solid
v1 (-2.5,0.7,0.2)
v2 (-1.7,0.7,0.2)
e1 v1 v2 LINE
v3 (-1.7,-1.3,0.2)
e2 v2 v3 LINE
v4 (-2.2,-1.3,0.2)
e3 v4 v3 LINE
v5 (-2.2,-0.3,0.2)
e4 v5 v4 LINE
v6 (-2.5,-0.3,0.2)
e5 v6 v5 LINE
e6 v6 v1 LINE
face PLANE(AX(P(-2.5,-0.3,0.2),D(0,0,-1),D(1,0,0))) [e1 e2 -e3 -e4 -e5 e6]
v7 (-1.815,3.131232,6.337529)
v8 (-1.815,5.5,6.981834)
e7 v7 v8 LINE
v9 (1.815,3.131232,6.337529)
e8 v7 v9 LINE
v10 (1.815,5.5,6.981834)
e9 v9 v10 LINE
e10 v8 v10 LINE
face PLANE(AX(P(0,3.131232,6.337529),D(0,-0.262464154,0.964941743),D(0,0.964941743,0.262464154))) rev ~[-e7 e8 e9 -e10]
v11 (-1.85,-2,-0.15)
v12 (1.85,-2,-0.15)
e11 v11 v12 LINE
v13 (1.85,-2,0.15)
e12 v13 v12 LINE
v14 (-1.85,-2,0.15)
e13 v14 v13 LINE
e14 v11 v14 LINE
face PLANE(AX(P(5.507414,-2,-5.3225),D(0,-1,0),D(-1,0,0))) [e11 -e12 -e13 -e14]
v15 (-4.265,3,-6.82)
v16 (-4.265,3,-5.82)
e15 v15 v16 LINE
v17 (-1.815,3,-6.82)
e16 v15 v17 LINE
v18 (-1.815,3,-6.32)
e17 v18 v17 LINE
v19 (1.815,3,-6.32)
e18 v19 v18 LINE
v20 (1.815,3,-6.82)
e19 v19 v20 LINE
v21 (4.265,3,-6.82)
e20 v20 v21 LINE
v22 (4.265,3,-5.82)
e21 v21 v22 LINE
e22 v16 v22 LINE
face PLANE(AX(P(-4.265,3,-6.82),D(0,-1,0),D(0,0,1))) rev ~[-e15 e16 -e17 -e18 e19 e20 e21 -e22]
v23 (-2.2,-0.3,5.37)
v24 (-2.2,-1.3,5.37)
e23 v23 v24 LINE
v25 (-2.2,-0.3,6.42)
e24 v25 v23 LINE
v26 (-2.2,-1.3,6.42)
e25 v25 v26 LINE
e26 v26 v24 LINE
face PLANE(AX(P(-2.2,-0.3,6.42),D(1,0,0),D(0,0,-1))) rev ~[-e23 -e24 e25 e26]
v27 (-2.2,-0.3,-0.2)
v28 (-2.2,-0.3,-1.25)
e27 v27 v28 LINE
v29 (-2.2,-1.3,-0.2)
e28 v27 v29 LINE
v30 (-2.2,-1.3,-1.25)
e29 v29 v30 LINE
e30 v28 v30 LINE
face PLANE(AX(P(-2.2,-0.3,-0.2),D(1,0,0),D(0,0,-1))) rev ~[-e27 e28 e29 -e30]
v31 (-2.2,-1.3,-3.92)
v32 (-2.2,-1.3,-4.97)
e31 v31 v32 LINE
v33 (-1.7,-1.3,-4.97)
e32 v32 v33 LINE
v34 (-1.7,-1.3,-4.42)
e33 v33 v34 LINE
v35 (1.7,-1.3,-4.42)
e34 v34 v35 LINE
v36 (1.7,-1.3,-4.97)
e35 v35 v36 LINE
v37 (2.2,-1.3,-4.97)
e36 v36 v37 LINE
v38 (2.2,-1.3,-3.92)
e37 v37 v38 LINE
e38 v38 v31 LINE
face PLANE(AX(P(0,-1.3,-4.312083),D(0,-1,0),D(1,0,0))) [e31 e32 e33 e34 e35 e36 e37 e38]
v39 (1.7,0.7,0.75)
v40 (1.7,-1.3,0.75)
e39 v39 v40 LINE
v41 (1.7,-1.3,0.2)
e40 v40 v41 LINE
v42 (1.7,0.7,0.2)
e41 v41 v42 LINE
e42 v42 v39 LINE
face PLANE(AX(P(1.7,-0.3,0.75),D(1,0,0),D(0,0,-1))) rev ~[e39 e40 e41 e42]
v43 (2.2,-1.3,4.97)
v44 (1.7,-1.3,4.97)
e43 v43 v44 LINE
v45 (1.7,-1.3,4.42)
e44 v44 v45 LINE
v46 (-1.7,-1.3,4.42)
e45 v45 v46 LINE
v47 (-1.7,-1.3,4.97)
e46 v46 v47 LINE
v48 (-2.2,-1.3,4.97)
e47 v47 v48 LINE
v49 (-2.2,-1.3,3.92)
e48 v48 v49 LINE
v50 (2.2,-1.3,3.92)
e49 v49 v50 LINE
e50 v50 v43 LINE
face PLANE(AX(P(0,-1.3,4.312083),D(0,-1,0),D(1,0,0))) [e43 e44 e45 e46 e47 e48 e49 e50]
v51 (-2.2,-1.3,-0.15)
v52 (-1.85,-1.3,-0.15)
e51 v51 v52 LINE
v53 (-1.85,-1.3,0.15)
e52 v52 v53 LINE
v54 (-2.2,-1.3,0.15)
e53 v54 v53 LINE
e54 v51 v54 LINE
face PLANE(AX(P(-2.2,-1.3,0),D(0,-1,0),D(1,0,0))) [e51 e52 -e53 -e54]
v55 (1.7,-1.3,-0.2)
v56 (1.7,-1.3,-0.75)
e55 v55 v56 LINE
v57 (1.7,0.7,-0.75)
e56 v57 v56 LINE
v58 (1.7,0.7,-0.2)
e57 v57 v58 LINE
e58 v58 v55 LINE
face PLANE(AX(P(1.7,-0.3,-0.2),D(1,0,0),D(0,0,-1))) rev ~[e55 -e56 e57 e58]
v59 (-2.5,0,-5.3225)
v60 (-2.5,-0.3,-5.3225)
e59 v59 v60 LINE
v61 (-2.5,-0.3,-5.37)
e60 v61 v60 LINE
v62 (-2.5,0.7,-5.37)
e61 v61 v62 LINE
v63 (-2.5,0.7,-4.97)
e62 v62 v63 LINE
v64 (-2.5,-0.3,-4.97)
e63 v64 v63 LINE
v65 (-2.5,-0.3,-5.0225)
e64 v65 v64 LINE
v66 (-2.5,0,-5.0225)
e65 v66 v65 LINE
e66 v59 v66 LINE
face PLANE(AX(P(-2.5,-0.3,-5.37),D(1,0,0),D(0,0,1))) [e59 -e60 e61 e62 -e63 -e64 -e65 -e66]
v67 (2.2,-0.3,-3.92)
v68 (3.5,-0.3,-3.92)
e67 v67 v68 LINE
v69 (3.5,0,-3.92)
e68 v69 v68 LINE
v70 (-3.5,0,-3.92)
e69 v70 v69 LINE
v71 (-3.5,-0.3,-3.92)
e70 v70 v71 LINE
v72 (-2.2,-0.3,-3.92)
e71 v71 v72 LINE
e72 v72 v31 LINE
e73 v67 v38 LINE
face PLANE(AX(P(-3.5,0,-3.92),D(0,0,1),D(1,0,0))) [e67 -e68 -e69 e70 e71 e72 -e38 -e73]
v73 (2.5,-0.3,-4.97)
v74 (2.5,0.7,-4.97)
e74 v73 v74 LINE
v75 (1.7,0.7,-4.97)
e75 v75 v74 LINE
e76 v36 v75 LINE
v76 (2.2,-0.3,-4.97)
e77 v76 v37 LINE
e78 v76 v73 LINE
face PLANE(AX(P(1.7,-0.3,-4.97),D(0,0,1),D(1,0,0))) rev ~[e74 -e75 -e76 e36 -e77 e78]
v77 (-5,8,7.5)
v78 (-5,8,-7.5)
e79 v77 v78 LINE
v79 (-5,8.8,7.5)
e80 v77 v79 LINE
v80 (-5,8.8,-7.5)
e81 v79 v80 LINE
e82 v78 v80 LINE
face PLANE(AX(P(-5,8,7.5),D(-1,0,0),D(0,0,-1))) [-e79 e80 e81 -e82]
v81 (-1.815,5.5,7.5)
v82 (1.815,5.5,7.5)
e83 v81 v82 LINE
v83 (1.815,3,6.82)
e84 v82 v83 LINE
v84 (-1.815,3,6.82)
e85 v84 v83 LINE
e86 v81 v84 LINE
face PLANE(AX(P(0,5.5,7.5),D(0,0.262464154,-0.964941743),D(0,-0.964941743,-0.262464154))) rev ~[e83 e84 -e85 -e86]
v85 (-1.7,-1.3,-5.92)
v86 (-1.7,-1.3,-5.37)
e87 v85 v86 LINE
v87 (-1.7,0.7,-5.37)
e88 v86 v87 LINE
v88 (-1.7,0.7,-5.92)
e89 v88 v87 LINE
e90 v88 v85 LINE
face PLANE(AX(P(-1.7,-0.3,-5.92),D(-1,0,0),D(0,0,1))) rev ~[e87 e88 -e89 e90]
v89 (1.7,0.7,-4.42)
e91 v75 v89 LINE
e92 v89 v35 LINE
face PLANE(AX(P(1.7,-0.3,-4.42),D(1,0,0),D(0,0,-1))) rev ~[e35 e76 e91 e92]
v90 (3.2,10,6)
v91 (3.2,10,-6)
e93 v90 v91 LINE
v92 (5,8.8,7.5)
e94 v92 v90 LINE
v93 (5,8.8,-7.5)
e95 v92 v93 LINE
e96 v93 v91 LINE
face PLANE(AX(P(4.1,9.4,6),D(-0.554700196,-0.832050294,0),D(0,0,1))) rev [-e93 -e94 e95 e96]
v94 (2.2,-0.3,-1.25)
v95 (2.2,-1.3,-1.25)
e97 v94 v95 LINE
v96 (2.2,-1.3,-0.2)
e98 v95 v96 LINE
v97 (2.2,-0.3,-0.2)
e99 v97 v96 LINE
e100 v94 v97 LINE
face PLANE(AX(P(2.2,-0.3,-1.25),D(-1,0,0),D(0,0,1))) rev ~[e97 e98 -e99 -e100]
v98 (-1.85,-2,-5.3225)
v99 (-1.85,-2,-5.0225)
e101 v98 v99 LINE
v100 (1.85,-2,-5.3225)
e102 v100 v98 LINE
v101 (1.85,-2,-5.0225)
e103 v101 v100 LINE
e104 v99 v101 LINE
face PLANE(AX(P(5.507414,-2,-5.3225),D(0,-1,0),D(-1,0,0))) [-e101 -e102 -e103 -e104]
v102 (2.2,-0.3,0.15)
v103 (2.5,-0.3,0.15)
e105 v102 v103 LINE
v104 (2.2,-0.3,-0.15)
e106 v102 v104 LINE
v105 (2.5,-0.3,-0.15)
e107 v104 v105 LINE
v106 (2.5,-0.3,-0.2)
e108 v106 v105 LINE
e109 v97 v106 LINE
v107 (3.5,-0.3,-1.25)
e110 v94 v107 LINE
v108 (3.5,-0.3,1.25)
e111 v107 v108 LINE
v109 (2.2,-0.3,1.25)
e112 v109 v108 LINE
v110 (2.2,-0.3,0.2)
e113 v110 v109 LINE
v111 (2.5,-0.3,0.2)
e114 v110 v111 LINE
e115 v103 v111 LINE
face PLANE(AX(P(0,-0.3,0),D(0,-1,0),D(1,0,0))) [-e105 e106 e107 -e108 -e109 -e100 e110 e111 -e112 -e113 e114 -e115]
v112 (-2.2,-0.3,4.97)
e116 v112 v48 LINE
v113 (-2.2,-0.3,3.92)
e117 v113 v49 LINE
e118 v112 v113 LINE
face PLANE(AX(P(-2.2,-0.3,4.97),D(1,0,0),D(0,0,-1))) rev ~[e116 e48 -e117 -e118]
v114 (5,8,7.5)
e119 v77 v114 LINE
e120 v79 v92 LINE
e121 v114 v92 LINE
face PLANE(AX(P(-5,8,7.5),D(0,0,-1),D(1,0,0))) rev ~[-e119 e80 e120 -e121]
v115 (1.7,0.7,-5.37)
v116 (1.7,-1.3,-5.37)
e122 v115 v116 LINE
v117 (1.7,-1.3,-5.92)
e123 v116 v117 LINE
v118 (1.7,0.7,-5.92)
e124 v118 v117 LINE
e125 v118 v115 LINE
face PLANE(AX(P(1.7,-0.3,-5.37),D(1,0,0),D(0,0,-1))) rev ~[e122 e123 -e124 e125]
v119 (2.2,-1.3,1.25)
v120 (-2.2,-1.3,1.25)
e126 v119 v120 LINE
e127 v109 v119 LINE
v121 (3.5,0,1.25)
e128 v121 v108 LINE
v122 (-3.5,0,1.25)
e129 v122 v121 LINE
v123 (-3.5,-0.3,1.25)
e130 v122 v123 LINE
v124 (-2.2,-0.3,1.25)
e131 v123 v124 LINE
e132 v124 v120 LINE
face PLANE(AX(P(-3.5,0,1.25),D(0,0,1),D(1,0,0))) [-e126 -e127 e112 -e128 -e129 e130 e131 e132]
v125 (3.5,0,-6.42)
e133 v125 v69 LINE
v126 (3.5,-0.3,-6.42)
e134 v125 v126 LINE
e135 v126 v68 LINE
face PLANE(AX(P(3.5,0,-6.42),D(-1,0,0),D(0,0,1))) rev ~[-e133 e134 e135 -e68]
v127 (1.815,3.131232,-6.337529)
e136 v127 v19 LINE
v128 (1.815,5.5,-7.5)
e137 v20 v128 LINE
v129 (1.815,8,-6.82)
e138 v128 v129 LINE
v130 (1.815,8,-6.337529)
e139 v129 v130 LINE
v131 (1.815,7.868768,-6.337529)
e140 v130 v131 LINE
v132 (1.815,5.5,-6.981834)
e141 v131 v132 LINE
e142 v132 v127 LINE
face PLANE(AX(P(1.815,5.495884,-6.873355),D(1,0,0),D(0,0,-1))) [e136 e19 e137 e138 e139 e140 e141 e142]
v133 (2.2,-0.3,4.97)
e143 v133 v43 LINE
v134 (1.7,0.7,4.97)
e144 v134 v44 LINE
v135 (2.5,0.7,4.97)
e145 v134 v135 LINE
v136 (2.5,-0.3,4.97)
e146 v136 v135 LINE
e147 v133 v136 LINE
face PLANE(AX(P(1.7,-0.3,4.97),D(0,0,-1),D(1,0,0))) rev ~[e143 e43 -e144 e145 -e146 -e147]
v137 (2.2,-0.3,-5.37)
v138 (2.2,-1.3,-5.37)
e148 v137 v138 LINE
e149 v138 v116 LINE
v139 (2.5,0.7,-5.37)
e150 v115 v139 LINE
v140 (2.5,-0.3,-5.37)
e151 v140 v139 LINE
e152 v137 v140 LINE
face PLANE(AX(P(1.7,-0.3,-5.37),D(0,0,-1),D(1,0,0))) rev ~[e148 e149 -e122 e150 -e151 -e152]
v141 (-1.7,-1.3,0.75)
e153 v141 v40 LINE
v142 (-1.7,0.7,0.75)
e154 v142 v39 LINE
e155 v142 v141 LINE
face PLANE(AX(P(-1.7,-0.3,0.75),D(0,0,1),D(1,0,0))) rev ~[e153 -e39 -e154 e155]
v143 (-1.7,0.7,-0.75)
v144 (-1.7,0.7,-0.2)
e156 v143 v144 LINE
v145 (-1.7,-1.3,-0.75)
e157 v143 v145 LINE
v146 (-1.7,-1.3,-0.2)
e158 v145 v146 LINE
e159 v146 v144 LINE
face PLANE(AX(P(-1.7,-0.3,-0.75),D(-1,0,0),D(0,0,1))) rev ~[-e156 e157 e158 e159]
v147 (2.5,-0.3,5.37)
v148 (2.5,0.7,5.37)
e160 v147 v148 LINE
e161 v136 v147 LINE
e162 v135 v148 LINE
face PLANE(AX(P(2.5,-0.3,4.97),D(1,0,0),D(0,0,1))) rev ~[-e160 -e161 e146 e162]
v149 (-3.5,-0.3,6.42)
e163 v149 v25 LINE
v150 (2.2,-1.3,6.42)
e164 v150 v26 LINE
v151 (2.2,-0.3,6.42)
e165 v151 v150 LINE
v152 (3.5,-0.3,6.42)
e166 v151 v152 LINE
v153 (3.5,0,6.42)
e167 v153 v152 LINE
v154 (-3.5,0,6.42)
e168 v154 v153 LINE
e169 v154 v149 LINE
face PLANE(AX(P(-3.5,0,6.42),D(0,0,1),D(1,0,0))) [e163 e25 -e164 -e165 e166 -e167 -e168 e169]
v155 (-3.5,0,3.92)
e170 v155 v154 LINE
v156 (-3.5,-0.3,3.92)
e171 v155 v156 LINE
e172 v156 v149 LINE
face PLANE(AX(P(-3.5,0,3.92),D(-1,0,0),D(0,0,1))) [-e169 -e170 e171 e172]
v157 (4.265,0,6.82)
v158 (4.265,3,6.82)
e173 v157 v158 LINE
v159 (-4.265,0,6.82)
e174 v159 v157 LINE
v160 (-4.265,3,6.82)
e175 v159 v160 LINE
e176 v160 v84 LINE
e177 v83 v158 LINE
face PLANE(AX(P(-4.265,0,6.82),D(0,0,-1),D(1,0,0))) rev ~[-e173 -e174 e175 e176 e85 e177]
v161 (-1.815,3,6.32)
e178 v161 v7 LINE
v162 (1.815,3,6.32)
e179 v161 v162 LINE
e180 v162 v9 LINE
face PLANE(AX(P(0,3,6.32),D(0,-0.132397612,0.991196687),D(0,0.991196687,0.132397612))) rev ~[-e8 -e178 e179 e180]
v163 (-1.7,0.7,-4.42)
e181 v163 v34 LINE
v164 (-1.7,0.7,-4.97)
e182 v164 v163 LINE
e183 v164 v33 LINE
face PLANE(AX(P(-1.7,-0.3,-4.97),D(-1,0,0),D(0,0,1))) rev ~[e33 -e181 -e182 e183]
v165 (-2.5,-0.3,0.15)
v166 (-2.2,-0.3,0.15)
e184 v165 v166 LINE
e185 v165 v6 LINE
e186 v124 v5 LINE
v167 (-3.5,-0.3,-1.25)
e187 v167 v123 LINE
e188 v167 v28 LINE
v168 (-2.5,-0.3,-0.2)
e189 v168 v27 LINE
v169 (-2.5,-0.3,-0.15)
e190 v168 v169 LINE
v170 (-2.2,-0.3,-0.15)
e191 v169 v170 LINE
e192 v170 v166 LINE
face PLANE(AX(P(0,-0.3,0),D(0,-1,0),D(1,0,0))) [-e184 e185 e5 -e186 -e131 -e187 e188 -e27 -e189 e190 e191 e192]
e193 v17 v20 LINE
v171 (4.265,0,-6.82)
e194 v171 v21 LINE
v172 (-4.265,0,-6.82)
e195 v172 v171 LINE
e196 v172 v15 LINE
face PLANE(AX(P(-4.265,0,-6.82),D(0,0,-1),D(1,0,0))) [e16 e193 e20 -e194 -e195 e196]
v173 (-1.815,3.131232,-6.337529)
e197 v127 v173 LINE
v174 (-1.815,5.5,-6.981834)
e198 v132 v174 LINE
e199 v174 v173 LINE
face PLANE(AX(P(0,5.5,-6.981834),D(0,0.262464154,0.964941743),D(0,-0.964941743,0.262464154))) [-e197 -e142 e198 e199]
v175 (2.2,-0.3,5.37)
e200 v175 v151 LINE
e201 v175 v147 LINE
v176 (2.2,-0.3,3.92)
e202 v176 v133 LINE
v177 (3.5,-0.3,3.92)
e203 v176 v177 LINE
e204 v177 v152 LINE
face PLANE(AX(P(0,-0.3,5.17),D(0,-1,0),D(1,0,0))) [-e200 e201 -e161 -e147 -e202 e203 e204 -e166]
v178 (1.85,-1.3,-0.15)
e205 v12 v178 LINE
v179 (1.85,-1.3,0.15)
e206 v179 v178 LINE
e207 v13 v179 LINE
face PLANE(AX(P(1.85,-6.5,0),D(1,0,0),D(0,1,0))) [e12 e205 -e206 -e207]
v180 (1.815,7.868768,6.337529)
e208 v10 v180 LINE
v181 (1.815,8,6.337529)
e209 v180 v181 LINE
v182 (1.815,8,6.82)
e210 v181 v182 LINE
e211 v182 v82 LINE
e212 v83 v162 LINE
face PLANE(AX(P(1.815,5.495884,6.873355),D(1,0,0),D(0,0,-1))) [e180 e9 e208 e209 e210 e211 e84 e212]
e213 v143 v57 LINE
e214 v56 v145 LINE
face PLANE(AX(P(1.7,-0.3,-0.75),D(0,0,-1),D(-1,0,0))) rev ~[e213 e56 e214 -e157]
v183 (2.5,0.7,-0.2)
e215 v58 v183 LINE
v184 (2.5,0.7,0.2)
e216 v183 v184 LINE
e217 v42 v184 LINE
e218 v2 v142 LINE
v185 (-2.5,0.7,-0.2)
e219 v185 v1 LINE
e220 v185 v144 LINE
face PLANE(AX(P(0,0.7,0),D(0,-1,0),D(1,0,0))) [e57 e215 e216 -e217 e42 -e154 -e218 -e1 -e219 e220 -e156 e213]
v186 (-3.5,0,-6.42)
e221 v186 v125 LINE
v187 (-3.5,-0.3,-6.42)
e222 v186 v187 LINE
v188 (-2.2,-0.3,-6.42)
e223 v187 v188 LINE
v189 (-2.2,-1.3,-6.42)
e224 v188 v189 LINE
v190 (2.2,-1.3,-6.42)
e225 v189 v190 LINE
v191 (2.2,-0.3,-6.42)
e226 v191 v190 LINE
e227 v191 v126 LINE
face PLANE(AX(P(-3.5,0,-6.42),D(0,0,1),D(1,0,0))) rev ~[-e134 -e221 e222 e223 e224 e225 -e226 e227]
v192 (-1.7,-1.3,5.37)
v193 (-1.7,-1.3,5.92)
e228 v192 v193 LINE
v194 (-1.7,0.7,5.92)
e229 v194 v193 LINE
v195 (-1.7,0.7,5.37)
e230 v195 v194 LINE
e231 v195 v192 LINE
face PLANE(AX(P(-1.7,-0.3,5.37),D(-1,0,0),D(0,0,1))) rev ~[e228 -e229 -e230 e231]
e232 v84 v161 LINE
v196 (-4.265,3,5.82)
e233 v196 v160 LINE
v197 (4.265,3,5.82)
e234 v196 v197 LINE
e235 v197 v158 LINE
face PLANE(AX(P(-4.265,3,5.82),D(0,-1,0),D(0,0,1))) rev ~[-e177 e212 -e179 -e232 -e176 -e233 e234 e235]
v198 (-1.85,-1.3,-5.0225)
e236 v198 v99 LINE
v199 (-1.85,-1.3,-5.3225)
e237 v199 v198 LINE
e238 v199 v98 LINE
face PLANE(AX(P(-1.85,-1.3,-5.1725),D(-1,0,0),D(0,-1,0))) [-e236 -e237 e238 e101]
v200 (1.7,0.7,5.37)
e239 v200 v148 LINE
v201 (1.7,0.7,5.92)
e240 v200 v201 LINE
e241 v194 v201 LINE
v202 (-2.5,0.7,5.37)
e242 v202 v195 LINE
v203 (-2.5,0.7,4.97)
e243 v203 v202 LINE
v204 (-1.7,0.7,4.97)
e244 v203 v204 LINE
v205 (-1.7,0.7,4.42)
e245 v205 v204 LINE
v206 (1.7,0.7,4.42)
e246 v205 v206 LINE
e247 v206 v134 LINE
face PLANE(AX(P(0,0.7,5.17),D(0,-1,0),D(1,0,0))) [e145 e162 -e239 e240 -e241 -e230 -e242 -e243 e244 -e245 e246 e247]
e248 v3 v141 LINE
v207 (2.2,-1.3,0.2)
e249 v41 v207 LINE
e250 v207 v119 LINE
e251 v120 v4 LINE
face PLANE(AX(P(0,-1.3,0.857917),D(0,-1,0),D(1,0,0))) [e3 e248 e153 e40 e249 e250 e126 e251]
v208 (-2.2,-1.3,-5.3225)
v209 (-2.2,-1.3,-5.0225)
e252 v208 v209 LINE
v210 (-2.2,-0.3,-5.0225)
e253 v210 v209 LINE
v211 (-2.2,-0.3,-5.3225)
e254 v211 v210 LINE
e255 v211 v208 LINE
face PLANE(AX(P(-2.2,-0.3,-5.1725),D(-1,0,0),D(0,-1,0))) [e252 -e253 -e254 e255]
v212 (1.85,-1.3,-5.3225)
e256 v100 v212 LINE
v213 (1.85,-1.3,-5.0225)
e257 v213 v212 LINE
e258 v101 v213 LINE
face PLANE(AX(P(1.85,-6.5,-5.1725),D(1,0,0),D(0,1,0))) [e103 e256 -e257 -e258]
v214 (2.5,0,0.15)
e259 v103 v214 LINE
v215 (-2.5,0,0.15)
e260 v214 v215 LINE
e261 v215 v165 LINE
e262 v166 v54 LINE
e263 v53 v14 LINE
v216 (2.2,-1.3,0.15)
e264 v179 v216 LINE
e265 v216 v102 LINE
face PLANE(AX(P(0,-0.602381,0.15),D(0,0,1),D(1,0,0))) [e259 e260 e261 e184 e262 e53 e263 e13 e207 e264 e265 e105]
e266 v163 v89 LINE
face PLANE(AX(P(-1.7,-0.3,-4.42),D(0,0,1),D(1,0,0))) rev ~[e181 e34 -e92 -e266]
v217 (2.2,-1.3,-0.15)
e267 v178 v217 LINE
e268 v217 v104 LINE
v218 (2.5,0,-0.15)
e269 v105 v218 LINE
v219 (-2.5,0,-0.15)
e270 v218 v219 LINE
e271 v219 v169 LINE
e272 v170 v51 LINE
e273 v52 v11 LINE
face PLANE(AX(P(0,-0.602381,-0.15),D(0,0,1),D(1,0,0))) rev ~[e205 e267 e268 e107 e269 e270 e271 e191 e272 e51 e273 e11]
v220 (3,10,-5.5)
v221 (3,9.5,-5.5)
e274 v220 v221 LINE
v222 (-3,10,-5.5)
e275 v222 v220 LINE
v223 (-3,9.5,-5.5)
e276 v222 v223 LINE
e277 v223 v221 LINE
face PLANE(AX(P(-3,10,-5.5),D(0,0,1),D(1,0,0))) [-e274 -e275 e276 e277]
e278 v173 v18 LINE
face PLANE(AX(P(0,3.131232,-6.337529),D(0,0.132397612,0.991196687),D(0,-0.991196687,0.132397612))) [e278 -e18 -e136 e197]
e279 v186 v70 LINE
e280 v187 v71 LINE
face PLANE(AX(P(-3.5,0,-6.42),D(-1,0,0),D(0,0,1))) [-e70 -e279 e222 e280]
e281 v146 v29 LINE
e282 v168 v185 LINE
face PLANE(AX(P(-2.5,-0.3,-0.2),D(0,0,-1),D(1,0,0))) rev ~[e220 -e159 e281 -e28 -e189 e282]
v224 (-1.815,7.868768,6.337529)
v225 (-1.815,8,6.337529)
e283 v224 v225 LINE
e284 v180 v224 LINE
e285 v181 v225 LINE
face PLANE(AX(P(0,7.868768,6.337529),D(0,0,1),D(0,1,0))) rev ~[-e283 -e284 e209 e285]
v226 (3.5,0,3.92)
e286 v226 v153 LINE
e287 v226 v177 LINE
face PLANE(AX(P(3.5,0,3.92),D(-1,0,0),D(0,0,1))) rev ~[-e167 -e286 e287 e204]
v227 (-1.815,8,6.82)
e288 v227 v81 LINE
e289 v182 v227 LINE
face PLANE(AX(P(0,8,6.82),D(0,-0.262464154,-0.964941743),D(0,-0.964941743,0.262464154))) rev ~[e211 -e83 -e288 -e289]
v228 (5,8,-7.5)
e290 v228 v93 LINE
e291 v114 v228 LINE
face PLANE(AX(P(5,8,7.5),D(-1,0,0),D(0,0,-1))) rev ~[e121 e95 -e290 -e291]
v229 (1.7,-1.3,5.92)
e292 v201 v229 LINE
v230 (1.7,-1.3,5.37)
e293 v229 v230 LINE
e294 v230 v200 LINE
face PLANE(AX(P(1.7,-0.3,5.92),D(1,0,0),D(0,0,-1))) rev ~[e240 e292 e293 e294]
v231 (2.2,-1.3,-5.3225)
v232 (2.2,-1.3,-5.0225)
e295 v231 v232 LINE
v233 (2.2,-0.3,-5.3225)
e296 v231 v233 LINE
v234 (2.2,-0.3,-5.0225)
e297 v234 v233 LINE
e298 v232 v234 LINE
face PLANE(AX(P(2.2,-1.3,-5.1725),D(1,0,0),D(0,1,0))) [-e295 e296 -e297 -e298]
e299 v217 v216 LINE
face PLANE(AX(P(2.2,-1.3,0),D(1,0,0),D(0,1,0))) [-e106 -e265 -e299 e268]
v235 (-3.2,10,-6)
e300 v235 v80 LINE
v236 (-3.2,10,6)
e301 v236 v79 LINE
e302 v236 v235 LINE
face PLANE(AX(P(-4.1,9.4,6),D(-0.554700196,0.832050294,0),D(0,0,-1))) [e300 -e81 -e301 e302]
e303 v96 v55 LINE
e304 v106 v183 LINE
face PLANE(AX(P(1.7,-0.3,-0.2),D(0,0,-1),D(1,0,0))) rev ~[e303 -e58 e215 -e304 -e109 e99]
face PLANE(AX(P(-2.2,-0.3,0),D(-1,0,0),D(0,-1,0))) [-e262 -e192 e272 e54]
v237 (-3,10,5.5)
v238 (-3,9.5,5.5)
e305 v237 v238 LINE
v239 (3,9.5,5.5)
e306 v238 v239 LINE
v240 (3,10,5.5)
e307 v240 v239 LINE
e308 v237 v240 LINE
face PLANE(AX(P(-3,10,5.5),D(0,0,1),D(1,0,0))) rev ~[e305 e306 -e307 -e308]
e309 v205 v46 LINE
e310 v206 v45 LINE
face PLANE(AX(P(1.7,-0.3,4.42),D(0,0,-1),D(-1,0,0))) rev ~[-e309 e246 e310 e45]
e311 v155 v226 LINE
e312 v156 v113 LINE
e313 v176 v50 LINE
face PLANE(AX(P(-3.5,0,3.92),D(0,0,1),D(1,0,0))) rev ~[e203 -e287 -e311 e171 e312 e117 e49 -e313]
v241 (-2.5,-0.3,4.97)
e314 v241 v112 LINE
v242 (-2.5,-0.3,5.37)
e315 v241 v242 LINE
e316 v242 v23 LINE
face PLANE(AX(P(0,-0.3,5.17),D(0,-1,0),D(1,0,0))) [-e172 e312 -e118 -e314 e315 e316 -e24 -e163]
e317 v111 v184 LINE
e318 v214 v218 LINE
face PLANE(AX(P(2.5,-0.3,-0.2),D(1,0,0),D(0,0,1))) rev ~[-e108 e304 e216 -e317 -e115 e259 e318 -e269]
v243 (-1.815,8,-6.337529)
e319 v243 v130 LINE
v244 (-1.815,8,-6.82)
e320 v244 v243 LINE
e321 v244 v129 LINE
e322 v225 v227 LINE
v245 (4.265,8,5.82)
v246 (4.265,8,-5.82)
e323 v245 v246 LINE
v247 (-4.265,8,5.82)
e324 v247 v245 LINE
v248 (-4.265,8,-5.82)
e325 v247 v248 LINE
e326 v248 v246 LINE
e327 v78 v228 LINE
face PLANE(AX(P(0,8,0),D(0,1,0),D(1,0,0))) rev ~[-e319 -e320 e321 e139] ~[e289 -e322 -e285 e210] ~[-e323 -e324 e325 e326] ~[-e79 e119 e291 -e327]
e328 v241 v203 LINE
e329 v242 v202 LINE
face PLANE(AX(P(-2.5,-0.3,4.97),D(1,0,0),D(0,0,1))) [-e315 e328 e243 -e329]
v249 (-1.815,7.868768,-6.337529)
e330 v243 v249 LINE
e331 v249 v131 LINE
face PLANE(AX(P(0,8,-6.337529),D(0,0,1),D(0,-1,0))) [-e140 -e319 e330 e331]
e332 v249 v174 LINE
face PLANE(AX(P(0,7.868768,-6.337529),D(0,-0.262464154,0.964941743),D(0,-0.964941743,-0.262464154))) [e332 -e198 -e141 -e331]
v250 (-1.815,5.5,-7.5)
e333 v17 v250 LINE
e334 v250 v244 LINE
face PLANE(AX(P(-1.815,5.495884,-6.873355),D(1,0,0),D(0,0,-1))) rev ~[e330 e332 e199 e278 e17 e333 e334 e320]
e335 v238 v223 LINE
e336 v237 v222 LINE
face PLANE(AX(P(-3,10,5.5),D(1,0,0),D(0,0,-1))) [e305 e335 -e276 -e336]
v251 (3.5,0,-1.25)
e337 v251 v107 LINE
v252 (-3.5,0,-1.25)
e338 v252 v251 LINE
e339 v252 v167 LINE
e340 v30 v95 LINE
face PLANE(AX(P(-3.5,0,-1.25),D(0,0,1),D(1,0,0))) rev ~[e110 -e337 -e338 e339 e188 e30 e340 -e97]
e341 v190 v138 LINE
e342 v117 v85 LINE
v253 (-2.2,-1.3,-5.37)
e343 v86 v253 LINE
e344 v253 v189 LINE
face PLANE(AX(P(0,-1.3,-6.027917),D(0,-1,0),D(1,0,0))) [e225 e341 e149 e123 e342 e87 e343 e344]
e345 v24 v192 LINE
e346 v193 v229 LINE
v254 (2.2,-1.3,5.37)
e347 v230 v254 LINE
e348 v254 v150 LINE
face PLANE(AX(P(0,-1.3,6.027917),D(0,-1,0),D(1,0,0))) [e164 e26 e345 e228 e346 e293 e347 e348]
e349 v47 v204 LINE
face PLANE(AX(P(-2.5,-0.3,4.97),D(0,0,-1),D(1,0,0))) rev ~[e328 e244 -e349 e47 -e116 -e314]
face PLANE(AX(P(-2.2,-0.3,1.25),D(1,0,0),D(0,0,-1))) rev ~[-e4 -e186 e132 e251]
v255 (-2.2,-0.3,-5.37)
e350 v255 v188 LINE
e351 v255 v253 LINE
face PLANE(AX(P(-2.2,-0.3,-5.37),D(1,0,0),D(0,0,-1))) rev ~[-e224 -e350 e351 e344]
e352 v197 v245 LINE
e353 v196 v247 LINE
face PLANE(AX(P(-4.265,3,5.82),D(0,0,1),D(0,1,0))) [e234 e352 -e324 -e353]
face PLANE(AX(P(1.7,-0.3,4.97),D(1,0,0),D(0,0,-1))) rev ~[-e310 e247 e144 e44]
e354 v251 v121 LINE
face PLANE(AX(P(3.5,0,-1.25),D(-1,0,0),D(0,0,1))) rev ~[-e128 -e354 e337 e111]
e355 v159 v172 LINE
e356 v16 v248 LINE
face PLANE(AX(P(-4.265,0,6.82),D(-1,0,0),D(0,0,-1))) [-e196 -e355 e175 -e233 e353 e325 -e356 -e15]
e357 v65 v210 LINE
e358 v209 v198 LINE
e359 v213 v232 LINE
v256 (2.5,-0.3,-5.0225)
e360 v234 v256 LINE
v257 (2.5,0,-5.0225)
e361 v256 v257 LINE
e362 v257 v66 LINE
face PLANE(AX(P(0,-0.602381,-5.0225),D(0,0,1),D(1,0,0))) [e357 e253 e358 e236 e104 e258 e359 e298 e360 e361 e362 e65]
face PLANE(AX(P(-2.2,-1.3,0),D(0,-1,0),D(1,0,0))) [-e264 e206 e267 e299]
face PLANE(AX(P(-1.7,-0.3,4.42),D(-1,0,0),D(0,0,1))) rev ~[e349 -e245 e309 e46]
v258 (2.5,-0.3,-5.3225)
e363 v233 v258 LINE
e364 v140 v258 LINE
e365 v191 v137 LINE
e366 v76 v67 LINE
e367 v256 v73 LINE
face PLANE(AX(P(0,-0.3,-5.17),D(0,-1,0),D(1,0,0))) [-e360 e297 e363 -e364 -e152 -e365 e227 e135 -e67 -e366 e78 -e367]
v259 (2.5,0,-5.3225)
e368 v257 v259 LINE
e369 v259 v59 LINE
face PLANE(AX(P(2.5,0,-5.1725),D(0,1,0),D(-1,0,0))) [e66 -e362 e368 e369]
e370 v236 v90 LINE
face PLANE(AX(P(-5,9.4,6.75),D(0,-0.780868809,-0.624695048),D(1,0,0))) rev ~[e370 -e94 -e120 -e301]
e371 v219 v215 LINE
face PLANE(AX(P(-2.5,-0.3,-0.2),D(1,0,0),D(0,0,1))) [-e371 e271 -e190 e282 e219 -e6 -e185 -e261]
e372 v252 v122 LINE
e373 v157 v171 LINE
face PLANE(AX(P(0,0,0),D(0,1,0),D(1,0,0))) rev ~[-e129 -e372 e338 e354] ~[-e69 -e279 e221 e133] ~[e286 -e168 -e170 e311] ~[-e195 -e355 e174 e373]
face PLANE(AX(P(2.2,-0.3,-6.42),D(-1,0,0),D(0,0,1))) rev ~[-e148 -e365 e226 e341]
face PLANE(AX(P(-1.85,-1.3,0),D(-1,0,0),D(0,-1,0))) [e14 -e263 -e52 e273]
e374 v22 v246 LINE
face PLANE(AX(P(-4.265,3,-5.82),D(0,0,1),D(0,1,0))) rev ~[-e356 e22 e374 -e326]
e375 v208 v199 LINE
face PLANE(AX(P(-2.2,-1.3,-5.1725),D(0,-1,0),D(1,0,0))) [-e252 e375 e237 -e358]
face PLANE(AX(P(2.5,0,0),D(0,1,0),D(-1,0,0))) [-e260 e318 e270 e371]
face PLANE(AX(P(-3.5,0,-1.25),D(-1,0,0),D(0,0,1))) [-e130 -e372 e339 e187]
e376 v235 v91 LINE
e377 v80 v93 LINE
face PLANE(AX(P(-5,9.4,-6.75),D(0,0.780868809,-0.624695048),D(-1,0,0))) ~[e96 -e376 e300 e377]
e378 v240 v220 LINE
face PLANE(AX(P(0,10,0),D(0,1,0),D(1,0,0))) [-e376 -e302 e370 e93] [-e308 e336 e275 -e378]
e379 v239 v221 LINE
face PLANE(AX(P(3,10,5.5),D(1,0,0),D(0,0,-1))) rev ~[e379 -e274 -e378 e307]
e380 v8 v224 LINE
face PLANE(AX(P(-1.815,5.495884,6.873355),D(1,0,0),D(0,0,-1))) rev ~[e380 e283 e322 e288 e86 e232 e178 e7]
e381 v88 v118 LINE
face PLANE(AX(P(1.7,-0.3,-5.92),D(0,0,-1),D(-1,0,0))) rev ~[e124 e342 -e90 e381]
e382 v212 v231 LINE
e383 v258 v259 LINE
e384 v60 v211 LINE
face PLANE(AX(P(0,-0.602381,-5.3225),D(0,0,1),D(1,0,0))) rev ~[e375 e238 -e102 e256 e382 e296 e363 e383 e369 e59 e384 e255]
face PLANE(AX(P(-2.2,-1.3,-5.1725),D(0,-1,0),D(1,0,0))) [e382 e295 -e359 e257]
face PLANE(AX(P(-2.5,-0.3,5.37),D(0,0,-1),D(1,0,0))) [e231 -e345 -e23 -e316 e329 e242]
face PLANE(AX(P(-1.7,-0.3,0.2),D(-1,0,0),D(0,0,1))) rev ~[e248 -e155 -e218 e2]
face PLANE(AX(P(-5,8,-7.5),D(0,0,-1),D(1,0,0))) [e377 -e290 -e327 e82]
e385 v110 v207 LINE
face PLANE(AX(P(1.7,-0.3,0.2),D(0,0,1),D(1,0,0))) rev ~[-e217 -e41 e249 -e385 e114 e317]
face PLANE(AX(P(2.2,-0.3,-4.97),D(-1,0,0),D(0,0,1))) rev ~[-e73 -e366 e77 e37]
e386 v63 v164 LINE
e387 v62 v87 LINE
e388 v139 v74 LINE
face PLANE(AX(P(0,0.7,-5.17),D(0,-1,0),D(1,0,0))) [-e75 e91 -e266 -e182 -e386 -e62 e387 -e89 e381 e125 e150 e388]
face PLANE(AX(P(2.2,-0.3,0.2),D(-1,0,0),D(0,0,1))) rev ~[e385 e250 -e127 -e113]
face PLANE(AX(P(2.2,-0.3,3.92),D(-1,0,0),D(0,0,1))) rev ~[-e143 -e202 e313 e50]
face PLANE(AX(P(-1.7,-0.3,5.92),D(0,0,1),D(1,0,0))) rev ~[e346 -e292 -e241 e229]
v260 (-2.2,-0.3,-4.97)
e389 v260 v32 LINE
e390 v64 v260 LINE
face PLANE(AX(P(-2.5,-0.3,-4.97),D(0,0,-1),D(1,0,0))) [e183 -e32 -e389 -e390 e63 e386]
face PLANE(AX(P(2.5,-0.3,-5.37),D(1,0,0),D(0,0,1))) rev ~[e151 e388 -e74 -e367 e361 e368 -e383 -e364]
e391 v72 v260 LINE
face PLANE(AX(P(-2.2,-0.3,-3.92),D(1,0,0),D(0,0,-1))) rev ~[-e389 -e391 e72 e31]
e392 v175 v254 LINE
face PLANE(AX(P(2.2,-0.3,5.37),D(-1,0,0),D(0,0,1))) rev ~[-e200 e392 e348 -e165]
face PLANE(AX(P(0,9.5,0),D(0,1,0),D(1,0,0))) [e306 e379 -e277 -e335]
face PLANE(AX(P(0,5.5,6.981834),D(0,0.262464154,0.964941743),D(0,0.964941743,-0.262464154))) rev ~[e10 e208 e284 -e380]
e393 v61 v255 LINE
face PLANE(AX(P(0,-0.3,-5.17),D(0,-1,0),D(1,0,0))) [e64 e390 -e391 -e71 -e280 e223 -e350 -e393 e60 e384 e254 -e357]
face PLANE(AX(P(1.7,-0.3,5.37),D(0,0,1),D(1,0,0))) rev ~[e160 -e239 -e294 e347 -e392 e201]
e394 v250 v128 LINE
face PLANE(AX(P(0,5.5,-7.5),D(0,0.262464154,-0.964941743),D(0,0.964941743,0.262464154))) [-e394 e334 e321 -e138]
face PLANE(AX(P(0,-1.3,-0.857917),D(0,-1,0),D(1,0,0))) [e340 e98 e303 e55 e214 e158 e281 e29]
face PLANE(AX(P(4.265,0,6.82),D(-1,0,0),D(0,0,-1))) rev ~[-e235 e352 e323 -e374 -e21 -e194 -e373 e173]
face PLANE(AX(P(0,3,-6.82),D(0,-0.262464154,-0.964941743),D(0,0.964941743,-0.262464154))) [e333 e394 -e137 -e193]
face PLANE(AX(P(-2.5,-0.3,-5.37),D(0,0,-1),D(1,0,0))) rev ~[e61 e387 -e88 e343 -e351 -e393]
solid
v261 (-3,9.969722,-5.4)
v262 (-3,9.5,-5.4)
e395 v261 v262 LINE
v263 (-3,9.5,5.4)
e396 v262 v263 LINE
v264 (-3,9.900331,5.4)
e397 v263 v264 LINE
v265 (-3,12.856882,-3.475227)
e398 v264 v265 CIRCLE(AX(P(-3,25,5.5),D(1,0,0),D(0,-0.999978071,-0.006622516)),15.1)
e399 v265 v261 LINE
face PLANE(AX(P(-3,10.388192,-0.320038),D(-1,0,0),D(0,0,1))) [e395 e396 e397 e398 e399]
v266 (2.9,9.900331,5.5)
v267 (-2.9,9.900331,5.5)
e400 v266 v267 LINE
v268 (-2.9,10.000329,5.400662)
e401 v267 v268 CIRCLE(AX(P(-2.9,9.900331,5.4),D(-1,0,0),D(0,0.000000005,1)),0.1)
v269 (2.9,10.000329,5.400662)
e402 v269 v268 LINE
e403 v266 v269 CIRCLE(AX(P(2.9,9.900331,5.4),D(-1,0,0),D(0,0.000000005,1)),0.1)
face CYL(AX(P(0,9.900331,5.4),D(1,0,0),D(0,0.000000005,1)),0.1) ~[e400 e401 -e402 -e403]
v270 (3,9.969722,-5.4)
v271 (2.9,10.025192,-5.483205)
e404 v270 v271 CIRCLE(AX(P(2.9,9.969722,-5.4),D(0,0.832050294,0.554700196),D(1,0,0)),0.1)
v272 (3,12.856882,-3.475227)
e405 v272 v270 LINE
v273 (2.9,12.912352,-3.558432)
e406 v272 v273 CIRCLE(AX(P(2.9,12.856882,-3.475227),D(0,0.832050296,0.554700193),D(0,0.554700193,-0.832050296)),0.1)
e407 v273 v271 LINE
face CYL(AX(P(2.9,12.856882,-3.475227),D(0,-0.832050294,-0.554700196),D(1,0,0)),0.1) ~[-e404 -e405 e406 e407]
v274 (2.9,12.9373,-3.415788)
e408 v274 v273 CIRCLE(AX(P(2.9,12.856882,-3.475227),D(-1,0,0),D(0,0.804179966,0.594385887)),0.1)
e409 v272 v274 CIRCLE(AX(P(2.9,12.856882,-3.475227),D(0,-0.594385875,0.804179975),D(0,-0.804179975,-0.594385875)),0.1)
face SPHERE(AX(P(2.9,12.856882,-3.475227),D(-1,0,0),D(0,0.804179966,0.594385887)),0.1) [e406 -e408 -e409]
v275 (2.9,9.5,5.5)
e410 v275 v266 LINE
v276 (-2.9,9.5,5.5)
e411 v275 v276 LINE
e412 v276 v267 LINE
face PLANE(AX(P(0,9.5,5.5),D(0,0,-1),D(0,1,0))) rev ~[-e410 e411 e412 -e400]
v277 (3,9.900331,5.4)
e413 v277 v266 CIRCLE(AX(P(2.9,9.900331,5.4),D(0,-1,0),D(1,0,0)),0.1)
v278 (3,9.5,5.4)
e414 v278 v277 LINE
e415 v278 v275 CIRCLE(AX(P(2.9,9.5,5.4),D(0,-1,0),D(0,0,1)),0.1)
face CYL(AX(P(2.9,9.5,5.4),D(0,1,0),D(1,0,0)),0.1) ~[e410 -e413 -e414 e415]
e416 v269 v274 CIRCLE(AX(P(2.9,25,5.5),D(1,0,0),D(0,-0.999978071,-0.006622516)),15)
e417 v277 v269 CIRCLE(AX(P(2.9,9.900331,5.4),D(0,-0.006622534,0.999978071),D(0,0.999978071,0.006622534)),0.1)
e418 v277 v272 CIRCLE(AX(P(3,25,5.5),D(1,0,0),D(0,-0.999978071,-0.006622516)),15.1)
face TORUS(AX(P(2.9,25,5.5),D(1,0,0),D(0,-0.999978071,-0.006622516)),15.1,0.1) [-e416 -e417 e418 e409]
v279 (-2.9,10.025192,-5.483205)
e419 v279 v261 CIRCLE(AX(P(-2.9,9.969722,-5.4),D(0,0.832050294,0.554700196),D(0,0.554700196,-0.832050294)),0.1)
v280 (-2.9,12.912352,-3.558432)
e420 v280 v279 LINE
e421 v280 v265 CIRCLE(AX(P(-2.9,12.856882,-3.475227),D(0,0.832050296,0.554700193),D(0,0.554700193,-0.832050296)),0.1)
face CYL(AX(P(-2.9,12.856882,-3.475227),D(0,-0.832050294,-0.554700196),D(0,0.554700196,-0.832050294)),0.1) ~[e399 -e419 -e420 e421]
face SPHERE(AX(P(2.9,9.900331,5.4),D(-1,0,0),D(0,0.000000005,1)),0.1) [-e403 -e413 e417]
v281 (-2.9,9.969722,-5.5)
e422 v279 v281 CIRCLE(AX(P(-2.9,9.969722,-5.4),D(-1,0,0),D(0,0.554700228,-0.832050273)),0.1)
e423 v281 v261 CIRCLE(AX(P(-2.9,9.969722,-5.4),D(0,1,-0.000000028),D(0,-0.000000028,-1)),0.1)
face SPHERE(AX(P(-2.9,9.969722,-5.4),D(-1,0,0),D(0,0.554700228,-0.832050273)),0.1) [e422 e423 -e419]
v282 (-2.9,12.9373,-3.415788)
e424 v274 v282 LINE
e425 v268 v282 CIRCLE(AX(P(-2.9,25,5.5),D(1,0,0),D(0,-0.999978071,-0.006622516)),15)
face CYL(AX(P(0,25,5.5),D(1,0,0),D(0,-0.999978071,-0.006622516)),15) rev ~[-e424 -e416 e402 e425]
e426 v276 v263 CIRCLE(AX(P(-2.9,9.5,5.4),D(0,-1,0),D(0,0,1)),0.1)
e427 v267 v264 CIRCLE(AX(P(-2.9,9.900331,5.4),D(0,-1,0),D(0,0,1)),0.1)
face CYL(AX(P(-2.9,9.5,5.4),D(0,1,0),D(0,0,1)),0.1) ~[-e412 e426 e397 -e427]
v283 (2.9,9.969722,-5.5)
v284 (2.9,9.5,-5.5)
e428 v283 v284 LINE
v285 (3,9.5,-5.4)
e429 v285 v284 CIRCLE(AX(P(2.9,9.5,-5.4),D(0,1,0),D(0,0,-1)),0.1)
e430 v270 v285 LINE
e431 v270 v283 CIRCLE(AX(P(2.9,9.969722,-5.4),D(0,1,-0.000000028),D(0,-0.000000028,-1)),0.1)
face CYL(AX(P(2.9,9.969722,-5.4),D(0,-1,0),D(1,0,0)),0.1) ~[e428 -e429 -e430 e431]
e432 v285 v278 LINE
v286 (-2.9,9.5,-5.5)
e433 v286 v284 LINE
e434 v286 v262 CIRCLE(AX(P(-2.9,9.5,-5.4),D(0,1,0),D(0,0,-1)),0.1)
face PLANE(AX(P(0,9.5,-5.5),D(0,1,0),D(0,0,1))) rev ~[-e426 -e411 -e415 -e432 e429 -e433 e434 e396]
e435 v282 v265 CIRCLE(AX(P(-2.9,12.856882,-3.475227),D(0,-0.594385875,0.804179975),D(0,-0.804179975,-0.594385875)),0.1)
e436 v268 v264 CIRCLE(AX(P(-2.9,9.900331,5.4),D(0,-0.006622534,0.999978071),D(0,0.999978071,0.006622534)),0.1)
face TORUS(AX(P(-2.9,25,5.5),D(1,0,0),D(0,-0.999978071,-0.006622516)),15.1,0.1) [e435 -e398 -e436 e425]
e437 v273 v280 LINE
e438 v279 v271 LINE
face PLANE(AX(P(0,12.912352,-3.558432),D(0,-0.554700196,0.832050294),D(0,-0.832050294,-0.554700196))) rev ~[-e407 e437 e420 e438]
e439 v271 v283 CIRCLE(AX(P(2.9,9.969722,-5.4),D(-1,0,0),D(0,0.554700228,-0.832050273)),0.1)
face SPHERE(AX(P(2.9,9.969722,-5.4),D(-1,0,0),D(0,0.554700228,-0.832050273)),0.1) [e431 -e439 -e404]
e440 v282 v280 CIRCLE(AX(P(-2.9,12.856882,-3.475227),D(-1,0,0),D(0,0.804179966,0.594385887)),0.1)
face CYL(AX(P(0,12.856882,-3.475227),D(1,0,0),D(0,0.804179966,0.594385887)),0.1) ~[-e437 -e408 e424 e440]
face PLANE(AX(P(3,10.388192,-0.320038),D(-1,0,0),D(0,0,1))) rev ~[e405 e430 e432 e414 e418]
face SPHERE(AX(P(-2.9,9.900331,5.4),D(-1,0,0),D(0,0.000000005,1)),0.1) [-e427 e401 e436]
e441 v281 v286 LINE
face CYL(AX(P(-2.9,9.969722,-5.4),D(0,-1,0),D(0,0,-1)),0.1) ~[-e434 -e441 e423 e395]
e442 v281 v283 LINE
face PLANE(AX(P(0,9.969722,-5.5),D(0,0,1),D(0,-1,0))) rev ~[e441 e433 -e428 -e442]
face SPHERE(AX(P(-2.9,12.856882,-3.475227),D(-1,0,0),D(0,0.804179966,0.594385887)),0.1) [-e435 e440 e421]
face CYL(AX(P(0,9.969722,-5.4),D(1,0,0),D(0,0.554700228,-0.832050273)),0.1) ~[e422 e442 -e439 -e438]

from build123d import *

# Parameters (mm, degrees)
SKETCH1_W           = 8.53
SKETCH1_H           = 13.64
BOSS_EXTRUDE1_DEPTH = 10
SKETCH2_W           = 1
SKETCH2_H           = 5
CUT_EXTRUDE1_DEPTH  = 15.807879659
SKETCH3_W           = 6
SKETCH3_H           = 11
CUT_EXTRUDE2_DEPTH  = 0.5
BOSS_EXTRUDE2_START = -2
SKETCH4_W           = 10
SKETCH4_H           = 15
SKETCH4_W_2         = 8.53
SKETCH4_H_2         = 13.64
SKETCH4_W_3         = 6
SKETCH4_H_3         = 11
BOSS_EXTRUDE2_DEPTH = 2
CHAMFER1_SIZE       = 1.5
CHAMFER1_SIZE2      = 1.2
CHAMFER2_SIZE       = 1.2
CHAMFER2_SIZE2      = 1.5
CHAMFER3_SIZE       = 1.8
CHAMFER3_SIZE2      = 1.2
CHAMFER4_SIZE       = 1.2
CHAMFER4_SIZE2      = 1.8
BOSS_EXTRUDE3_DEPTH = 1.815
SKETCH7_W           = 7
SKETCH7_H           = 2.5
BOSS_EXTRUDE4_DEPTH = 0.3
BOSS_EXTRUDE5_DEPTH = 1
SKETCH8_5_W         = 5
SKETCH8_5_H         = 0.4
SKETCH8_5_W_2       = 3.4
SKETCH8_5_H_2       = 1.5
CUT_EXTRUDE4_DEPTH  = 1
BOSS_EXTRUDE6_DEPTH = 0.15
LPATTERN1_COUNT     = 2
LPATTERN1_PITCH     = 5.1725
BOSS_EXTRUDE7_DEPTH = 3
FILLET1_R           = 0.1
SKETCH12_W          = 12.226459424
SKETCH12_H          = 6.113229712
CUT_EXTRUDE5_DEPTH  = 19.902309573


with BuildPart() as part:
    # Sketch1 → Boss-Extrude1 (new body)
    with BuildSketch(Plane(origin=(0, 0, 0), x_dir=(1, 0, 0), z_dir=(0, 1, 0))):
        Rectangle(SKETCH1_W, SKETCH1_H)
    extrude(amount=BOSS_EXTRUDE1_DEPTH)

    # Sketch2 → Cut-Extrude1 (cut, through all)
    with BuildSketch(Plane.ZY.offset(4.265)):
        with Locations((-6.32, 5.5)):
            Rectangle(SKETCH2_W, SKETCH2_H)
        with Locations((6.32, 5.5)):
            Rectangle(SKETCH2_W, SKETCH2_H)
    extrude(amount=-CUT_EXTRUDE1_DEPTH, mode=Mode.SUBTRACT)

    # Sketch3 → Cut-Extrude2 (cut)
    with BuildSketch(Plane(origin=(0, 10, 0), x_dir=(1, 0, 0), z_dir=(0, 1, 0))):
        Rectangle(SKETCH3_W, SKETCH3_H)
    extrude(amount=-CUT_EXTRUDE2_DEPTH, mode=Mode.SUBTRACT)

    # Sketch4 → Boss-Extrude2 (add)
    # profile 1 of 2: a face of its own
    with BuildSketch(Plane(origin=(0, 10, 0), x_dir=(1, 0, 0), z_dir=(0, 1, 0)).offset(BOSS_EXTRUDE2_START)):
        Rectangle(SKETCH4_W, SKETCH4_H)
        Rectangle(SKETCH4_W_2, SKETCH4_H_2, mode=Mode.SUBTRACT)
    # profile 2 of 2: a face of its own
    with BuildSketch(Plane(origin=(0, 10, 0), x_dir=(1, 0, 0), z_dir=(0, 1, 0)).offset(BOSS_EXTRUDE2_START)):
        Rectangle(SKETCH4_W_2, SKETCH4_H_2)
        Rectangle(SKETCH4_W_3, SKETCH4_H_3, mode=Mode.SUBTRACT)
    extrude(amount=BOSS_EXTRUDE2_DEPTH)

    # Chamfer1
    chamfer1_edges = [part.edges().sort_by_distance(p)[0] for p in [
        (0, 10, 7.5),
    ]]
    chamfer1_side = [part.faces().sort_by_distance(p)[0] for p in [
        (-4.819722436, 10, 0),
    ]]
    chamfer(chamfer1_edges, length=CHAMFER1_SIZE, length2=CHAMFER1_SIZE2, reference=chamfer1_side[0])

    # Chamfer2
    chamfer2_edges = [part.edges().sort_by_distance(p)[0] for p in [
        (0, 10, -7.5),
    ]]
    chamfer2_side = [part.faces().sort_by_distance(p)[0] for p in [
        (0, 9, -7.5),
    ]]
    chamfer(chamfer2_edges, length=CHAMFER2_SIZE, length2=CHAMFER2_SIZE2, reference=chamfer2_side[0])

    # Chamfer3
    chamfer3_edges = [part.edges().sort_by_distance(p)[0] for p in [
        (-5, 10, 0),
    ]]
    chamfer3_side = [part.faces().sort_by_distance(p)[0] for p in [
        (-4.843795006, 10, 0),
    ]]
    chamfer(chamfer3_edges, length=CHAMFER3_SIZE, length2=CHAMFER3_SIZE2, reference=chamfer3_side[0])

    # Chamfer4
    chamfer4_edges = [part.edges().sort_by_distance(p)[0] for p in [
        (5, 10, 0),
    ]]
    chamfer4_side = [part.faces().sort_by_distance(p)[0] for p in [
        (5, 8.961702128, 0),
    ]]
    chamfer(chamfer4_edges, length=CHAMFER4_SIZE, length2=CHAMFER4_SIZE2, reference=chamfer4_side[0])

    # Sketch6 → Boss-Extrude3 (add, symmetric)
    with BuildSketch(Plane(origin=(0, 0, 0), x_dir=(0, 0, -1), z_dir=(1, 0, 0))):
        Polygon((-6.82, 8), (-7.5, 5.5), (-6.82, 3), (-6.32, 3), (-6.337529128, 3.131232077), (-6.981834003, 5.5), (-6.337529128, 7.868767923), (-6.337529128, 8), align=None)
        Polygon((6.32, 3), (6.82, 3), (7.5, 5.5), (6.82, 8), (6.337529128, 8), (6.337529128, 7.868767923), (6.981834003, 5.5), (6.337529128, 3.131232077), align=None)
    extrude(amount=BOSS_EXTRUDE3_DEPTH, both=True)

    # Sketch7 → Boss-Extrude4 (add)
    with BuildSketch(Plane.XZ):
        Rectangle(SKETCH7_W, SKETCH7_H)
        with Locations((0, -5.17)):
            Rectangle(SKETCH7_W, SKETCH7_H)
        with Locations((0, 5.17)):
            Rectangle(SKETCH7_W, SKETCH7_H)
    extrude(amount=BOSS_EXTRUDE4_DEPTH)

    # Sketch8 → Boss-Extrude5 (add)
    with BuildSketch(Plane.XZ.offset(0.3)):
        Polygon((1.7, 5.37), (2.2, 5.37), (2.2, 6.42), (-2.2, 6.42), (-2.2, 5.37), (-1.7, 5.37), (-1.7, 5.92), (1.7, 5.92), align=None)
        Polygon((-2.2, 3.92), (2.2, 3.92), (2.2, 4.97), (1.7, 4.97), (1.7, 4.42), (-1.7, 4.42), (-1.7, 4.97), (-2.2, 4.97), align=None)
        Polygon((1.7, 0.2), (2.2, 0.2), (2.2, 1.25), (-2.2, 1.25), (-2.2, 0.2), (-1.7, 0.2), (-1.7, 0.75), (1.7, 0.75), align=None)
        Polygon((-2.2, -1.25), (2.2, -1.25), (2.2, -0.2), (1.7, -0.2), (1.7, -0.75), (-1.7, -0.75), (-1.7, -0.2), (-2.2, -0.2), align=None)
        Polygon((1.7, -4.97), (2.2, -4.97), (2.2, -3.92), (-2.2, -3.92), (-2.2, -4.97), (-1.7, -4.97), (-1.7, -4.42), (1.7, -4.42), align=None)
        Polygon((-2.2, -6.42), (2.2, -6.42), (2.2, -5.37), (1.7, -5.37), (1.7, -5.92), (-1.7, -5.92), (-1.7, -5.37), (-2.2, -5.37), align=None)
    extrude(amount=BOSS_EXTRUDE5_DEPTH)

    # Sketch8<5> → Cut-Extrude4 (cut)
    with BuildSketch(Plane.XZ.offset(0.3)):
        Rectangle(SKETCH8_5_W, SKETCH8_5_H)
        with Locations((0, -5.17)):
            Rectangle(SKETCH8_5_W, SKETCH8_5_H)
        with Locations((0, 5.17)):
            Rectangle(SKETCH8_5_W, SKETCH8_5_H)
        with Locations((0, 5.17)):
            Rectangle(SKETCH8_5_W_2, SKETCH8_5_H_2)
        Rectangle(SKETCH8_5_W_2, SKETCH8_5_H_2)
        with Locations((0, -5.17)):
            Rectangle(SKETCH8_5_W_2, SKETCH8_5_H_2)
    extrude(amount=-CUT_EXTRUDE4_DEPTH, mode=Mode.SUBTRACT)

    # Sketch10 → Boss-Extrude6 (add, symmetric)
    # profile 1 of 2: a face of its own
    with BuildSketch(Plane.XY):
        Polygon((1.85, -1.65), (1.85, -1.3), (-1.85, -1.3), (-1.85, -1.65), (-1.85, -6.5), (-1.35, -7), (1.35, -7), (1.85, -6.5), align=None)
        with BuildLine():
            ThreePointArc((0.5, -5.5), (0, -6), (-0.5, -5.5))
            Line((-0.5, -5.5), (-0.5, -3.7))
            ThreePointArc((-0.5, -3.7), (0, -3.2), (0.5, -3.7))
            Line((0.5, -3.7), (0.5, -5.5))
        make_face(mode=Mode.SUBTRACT)
    # profile 2 of 2: a face of its own
    with BuildSketch(Plane.XY):
        Polygon((2.5, 0), (1.85, 0), (-1.85, 0), (-2.5, 0), (-2.5, -0.3), (-2.2, -0.3), (-2.2, -1.3), (-1.85, -1.3), (1.85, -1.3), (2.2, -1.3), (2.2, -0.3), (2.5, -0.3), align=None)
    boss_extrude6 = extrude(amount=BOSS_EXTRUDE6_DEPTH, both=True)

    # LPattern1: Boss-Extrude6 ×2
    with Locations(*[(0, 0, -i * LPATTERN1_PITCH) for i in range(1, LPATTERN1_COUNT)]):
        add(boss_extrude6)

    # Sketch12 → Cut-Extrude5 (cut, through all)
    with BuildSketch(Plane(origin=(0, 0, -5.3225), x_dir=(-1, 0, 0), z_dir=(0, 0, -1))):
        with Locations((0.605815557, -5.056614856)):
            Rectangle(SKETCH12_W, SKETCH12_H)
    extrude(amount=-CUT_EXTRUDE5_DEPTH, mode=Mode.SUBTRACT)


with BuildPart() as body_2:
    # Sketch11 → Boss-Extrude7 (new, symmetric)
    with BuildSketch(Plane(origin=(0, 0, 0), x_dir=(0, 0, -1), z_dir=(1, 0, 0))):
        with BuildLine():
            Line((5.5, 9.5), (-5.5, 9.5))
            Line((-5.5, 9.5), (-5.5, 9.900331129))
            ThreePointArc((-5.5, 9.900331129), (-5.470944433, 9.970807277), (-5.400662252, 10.000328937))
            ThreePointArc((-5.400662252, 10.000328937), (-0.759264413, 10.768857175), (3.415788118, 12.937300375))
            ThreePointArc((3.415788118, 12.937300375), (3.492454919, 12.955387143), (3.558431735, 12.912352398))
            Line((3.558431735, 12.912352398), (5.483205029, 10.025192456))
            ThreePointArc((5.483205029, 10.025192456), (5.495709203, 9.998700851), (5.5, 9.969722436))
            Line((5.5, 9.969722436), (5.5, 9.5))
        make_face()
    extrude(amount=BOSS_EXTRUDE7_DEPTH, both=True)

    # Fillet1
    fillet1_edges = [body_2.edges().sort_by_distance(p)[0] for p in [
        (-3, 12.955387143, -3.492454919),
        (-3, 11.468772427, -4.520818382),
        (-3, 9.998700851, -5.495709203),
        (-3, 9.734861218, -5.5),
        (3, 11.468772427, -4.520818382),
        (3, 12.955387143, -3.492454919),
        (3, 10.768857175, 0.759264413),
        (3, 9.970807277, 5.470944433),
        (3, 9.700165565, 5.5),
        (3, 9.734861218, -5.5),
        (3, 9.998700851, -5.495709203),
        (-3, 9.700165565, 5.5),
        (-3, 9.970807277, 5.470944433),
        (-3, 10.768857175, 0.759264413),
    ]]
    fillet(fillet1_edges, radius=FILLET1_R)


solid = Compound([part.part, body_2.part])
